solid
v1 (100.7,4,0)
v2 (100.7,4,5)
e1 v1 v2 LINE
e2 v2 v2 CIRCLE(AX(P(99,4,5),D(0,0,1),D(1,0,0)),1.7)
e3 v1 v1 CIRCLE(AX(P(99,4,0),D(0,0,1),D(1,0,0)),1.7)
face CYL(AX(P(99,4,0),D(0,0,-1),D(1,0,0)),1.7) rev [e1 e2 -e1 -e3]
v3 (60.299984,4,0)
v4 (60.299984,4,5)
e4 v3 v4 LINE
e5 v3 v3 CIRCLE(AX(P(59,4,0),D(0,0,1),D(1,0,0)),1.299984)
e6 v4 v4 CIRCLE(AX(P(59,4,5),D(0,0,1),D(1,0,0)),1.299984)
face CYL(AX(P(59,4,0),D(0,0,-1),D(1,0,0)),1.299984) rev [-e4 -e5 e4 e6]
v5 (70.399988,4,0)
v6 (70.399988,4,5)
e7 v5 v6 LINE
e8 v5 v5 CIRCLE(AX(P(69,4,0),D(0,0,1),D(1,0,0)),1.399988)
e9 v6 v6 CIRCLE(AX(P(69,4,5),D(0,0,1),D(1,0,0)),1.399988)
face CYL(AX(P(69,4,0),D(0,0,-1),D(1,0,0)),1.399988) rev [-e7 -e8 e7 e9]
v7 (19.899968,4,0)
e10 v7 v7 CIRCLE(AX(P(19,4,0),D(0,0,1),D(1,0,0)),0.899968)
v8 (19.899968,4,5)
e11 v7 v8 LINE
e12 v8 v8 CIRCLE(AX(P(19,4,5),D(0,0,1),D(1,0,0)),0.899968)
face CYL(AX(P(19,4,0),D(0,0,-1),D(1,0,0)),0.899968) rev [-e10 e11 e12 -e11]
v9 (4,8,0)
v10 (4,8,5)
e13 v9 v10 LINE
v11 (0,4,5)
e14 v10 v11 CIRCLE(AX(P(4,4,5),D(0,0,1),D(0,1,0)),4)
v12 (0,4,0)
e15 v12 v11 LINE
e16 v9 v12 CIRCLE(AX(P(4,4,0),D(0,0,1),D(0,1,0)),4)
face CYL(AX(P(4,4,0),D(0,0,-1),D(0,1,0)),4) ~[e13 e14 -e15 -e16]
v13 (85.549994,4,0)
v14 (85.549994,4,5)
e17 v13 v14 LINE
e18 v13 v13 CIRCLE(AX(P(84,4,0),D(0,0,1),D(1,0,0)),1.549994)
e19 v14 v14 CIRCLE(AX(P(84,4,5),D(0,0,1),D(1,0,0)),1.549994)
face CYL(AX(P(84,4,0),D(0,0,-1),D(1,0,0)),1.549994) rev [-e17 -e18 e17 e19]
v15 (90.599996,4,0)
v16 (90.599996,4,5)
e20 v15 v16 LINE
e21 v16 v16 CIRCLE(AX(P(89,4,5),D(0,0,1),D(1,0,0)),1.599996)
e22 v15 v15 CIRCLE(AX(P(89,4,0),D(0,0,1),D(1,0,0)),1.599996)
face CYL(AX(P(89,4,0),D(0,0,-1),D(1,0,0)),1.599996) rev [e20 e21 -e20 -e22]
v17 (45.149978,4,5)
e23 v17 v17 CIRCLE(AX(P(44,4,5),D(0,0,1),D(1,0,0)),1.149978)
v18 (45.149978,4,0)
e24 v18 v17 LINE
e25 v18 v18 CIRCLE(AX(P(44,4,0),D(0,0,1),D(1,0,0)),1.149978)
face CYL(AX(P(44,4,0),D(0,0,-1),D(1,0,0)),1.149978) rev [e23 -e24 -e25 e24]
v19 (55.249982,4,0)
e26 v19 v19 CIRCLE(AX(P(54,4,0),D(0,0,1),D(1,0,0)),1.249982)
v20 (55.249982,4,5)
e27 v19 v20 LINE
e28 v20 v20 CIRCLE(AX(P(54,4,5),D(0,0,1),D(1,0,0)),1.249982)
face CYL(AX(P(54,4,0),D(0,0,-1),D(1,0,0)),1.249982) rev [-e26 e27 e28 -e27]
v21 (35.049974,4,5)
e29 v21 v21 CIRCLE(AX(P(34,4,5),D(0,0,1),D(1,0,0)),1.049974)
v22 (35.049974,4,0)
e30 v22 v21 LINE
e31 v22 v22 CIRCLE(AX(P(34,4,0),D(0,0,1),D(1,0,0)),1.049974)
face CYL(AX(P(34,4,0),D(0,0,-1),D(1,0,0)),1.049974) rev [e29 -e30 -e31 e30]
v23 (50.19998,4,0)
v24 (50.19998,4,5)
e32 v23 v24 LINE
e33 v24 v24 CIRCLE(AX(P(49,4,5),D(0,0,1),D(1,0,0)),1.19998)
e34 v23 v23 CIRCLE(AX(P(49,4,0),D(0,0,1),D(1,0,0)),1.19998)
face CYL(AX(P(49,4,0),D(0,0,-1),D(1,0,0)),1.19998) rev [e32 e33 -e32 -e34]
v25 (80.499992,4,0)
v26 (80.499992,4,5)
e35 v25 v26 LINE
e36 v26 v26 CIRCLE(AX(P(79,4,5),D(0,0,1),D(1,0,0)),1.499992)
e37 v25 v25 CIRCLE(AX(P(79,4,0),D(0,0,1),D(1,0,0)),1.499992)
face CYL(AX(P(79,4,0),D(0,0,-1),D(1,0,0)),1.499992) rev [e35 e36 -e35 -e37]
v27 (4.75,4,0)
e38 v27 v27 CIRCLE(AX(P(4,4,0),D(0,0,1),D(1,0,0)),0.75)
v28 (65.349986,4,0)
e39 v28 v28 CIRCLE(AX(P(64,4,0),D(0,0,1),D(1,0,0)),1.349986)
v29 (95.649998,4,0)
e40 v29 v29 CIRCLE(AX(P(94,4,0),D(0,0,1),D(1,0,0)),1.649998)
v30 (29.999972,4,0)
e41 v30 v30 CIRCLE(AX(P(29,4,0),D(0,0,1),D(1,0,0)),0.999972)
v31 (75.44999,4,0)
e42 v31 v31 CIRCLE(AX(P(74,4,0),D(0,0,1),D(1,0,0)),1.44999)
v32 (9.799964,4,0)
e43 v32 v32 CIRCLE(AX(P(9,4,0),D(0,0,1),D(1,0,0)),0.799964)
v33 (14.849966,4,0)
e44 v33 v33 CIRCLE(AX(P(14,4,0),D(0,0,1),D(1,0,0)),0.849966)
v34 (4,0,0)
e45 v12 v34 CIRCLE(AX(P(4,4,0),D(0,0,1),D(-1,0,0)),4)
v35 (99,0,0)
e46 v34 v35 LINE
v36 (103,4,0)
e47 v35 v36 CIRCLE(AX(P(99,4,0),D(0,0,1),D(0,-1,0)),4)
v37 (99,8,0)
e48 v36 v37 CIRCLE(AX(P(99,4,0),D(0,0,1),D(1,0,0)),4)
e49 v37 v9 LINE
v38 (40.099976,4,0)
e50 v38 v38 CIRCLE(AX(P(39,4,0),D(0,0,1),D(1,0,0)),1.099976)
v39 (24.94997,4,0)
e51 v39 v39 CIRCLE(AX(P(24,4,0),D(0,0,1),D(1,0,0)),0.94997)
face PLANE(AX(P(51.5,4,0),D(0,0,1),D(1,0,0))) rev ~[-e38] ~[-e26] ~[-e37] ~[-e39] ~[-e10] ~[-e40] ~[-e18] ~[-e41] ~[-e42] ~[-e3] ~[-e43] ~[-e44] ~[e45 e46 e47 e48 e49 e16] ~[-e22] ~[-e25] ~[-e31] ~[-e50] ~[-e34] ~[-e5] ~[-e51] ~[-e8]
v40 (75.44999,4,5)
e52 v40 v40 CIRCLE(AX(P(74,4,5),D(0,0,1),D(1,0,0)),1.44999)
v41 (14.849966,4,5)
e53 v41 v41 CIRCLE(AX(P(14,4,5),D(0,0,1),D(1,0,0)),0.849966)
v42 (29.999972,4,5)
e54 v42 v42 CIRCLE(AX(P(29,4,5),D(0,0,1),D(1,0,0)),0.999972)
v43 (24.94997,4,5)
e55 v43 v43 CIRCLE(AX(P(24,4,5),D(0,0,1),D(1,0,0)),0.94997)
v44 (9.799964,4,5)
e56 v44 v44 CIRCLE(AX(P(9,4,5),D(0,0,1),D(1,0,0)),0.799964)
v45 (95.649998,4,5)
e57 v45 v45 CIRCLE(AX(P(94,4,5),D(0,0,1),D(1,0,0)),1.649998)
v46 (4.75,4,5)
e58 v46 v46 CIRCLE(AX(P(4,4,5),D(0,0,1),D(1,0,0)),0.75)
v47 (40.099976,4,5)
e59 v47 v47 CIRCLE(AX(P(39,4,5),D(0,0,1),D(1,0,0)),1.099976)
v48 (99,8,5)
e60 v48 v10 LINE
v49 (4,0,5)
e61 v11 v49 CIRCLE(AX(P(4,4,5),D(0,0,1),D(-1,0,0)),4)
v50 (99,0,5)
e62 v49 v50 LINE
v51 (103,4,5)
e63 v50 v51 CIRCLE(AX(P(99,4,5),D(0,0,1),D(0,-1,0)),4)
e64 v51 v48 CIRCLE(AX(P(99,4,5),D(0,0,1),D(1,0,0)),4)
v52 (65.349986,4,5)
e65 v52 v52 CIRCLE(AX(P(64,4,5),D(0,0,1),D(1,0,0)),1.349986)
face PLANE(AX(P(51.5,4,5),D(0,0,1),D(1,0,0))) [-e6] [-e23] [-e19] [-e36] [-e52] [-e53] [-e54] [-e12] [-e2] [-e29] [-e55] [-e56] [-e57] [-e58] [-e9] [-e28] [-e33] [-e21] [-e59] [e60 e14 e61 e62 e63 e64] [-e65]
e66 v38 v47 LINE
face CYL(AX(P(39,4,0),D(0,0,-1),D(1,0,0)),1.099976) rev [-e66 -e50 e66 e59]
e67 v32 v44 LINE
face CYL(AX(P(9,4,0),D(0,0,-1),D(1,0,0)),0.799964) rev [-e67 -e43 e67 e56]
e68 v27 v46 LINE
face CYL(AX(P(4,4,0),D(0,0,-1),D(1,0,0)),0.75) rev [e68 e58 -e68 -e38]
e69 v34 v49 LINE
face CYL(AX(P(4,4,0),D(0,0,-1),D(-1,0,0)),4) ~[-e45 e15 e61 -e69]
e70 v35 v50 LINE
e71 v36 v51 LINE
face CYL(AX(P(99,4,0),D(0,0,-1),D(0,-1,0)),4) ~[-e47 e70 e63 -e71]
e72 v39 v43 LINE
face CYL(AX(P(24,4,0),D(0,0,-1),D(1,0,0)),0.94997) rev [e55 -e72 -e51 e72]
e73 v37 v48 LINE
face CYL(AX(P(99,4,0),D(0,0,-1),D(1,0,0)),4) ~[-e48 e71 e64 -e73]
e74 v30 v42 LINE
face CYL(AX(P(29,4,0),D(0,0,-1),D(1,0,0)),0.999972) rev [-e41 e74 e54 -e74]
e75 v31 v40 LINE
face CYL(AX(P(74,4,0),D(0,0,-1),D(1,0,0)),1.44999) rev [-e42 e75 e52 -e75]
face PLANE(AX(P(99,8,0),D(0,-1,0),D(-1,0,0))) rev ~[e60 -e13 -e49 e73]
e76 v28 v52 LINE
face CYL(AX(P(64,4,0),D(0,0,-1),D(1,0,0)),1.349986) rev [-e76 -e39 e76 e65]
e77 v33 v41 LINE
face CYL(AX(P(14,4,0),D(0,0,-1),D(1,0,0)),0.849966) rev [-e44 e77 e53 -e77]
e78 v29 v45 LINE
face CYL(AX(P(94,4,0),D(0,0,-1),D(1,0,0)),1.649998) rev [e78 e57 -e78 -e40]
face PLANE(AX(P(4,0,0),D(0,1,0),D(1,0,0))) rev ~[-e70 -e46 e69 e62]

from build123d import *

# Parameters (mm, degrees)
F0_R     = 0.75
F0_R_2   = 0.79996447
F0_R_3   = 0.8499664439
F0_R_4   = 0.8999684178
F0_R_5   = 0.9499703917
F0_R_6   = 0.9999723655
F0_R_7   = 1.0499743394
F0_R_8   = 1.0999763133
F0_R_9   = 1.1499782872
F0_R_10  = 1.1999802611
F0_R_11  = 1.249982235
F0_R_12  = 1.2999842089
F0_R_13  = 1.3499861828
F0_R_14  = 1.3999881567
F0_R_15  = 1.4499901306
F0_R_16  = 1.4999921044
F0_R_17  = 1.5499940783
F0_R_18  = 1.5999960522
F0_R_19  = 1.6499980261
F0_R_20  = 1.7
F1_DEPTH = 5


with BuildPart() as f1:
    # F0 (on Top) → F1 (new body)
    with BuildSketch(Plane.XY):
        with BuildLine():
            ThreePointArc((0, 4), (1.1715728753, 1.1715728753), (4, 0))
            Line((4, 0), (99, 0))
            ThreePointArc((99, 0), (101.8284271247, 1.1715728753), (103, 4))
            ThreePointArc((103, 4), (101.8284271247, 6.8284271247), (99, 8))
            Line((99, 8), (94, 8))
            Line((94, 8), (89, 8))
            Line((89, 8), (84, 8))
            Line((84, 8), (79, 8))
            Line((79, 8), (74, 8))
            Line((74, 8), (69, 8))
            Line((69, 8), (64, 8))
            Line((64, 8), (59, 8))
            Line((59, 8), (54, 8))
            Line((54, 8), (49, 8))
            Line((49, 8), (44, 8))
            Line((44, 8), (39, 8))
            Line((39, 8), (34, 8))
            Line((34, 8), (29, 8))
            Line((29, 8), (24, 8))
            Line((24, 8), (19, 8))
            Line((19, 8), (14, 8))
            Line((14, 8), (9, 8))
            Line((9, 8), (4, 8))
            ThreePointArc((4, 8), (1.1715728753, 6.8284271247), (0, 4))
        make_face()
        with Locations((4, 4)):
            Circle(F0_R, mode=Mode.SUBTRACT)
        with Locations((9, 4)):
            Circle(F0_R_2, mode=Mode.SUBTRACT)
        with Locations((14, 4)):
            Circle(F0_R_3, mode=Mode.SUBTRACT)
        with Locations((19, 4)):
            Circle(F0_R_4, mode=Mode.SUBTRACT)
        with Locations((24, 4)):
            Circle(F0_R_5, mode=Mode.SUBTRACT)
        with Locations((29, 4)):
            Circle(F0_R_6, mode=Mode.SUBTRACT)
        with Locations((34, 4)):
            Circle(F0_R_7, mode=Mode.SUBTRACT)
        with Locations((39, 4)):
            Circle(F0_R_8, mode=Mode.SUBTRACT)
        with Locations((44, 4)):
            Circle(F0_R_9, mode=Mode.SUBTRACT)
        with Locations((49, 4)):
            Circle(F0_R_10, mode=Mode.SUBTRACT)
        with Locations((54, 4)):
            Circle(F0_R_11, mode=Mode.SUBTRACT)
        with Locations((59, 4)):
            Circle(F0_R_12, mode=Mode.SUBTRACT)
        with Locations((64, 4)):
            Circle(F0_R_13, mode=Mode.SUBTRACT)
        with Locations((69, 4)):
            Circle(F0_R_14, mode=Mode.SUBTRACT)
        with Locations((74, 4)):
            Circle(F0_R_15, mode=Mode.SUBTRACT)
        with Locations((79, 4)):
            Circle(F0_R_16, mode=Mode.SUBTRACT)
        with Locations((84, 4)):
            Circle(F0_R_17, mode=Mode.SUBTRACT)
        with Locations((89, 4)):
            Circle(F0_R_18, mode=Mode.SUBTRACT)
        with Locations((94, 4)):
            Circle(F0_R_19, mode=Mode.SUBTRACT)
        with Locations((99, 4)):
            Circle(F0_R_20, mode=Mode.SUBTRACT)
    extrude(amount=F1_DEPTH)


solid = f1.part
